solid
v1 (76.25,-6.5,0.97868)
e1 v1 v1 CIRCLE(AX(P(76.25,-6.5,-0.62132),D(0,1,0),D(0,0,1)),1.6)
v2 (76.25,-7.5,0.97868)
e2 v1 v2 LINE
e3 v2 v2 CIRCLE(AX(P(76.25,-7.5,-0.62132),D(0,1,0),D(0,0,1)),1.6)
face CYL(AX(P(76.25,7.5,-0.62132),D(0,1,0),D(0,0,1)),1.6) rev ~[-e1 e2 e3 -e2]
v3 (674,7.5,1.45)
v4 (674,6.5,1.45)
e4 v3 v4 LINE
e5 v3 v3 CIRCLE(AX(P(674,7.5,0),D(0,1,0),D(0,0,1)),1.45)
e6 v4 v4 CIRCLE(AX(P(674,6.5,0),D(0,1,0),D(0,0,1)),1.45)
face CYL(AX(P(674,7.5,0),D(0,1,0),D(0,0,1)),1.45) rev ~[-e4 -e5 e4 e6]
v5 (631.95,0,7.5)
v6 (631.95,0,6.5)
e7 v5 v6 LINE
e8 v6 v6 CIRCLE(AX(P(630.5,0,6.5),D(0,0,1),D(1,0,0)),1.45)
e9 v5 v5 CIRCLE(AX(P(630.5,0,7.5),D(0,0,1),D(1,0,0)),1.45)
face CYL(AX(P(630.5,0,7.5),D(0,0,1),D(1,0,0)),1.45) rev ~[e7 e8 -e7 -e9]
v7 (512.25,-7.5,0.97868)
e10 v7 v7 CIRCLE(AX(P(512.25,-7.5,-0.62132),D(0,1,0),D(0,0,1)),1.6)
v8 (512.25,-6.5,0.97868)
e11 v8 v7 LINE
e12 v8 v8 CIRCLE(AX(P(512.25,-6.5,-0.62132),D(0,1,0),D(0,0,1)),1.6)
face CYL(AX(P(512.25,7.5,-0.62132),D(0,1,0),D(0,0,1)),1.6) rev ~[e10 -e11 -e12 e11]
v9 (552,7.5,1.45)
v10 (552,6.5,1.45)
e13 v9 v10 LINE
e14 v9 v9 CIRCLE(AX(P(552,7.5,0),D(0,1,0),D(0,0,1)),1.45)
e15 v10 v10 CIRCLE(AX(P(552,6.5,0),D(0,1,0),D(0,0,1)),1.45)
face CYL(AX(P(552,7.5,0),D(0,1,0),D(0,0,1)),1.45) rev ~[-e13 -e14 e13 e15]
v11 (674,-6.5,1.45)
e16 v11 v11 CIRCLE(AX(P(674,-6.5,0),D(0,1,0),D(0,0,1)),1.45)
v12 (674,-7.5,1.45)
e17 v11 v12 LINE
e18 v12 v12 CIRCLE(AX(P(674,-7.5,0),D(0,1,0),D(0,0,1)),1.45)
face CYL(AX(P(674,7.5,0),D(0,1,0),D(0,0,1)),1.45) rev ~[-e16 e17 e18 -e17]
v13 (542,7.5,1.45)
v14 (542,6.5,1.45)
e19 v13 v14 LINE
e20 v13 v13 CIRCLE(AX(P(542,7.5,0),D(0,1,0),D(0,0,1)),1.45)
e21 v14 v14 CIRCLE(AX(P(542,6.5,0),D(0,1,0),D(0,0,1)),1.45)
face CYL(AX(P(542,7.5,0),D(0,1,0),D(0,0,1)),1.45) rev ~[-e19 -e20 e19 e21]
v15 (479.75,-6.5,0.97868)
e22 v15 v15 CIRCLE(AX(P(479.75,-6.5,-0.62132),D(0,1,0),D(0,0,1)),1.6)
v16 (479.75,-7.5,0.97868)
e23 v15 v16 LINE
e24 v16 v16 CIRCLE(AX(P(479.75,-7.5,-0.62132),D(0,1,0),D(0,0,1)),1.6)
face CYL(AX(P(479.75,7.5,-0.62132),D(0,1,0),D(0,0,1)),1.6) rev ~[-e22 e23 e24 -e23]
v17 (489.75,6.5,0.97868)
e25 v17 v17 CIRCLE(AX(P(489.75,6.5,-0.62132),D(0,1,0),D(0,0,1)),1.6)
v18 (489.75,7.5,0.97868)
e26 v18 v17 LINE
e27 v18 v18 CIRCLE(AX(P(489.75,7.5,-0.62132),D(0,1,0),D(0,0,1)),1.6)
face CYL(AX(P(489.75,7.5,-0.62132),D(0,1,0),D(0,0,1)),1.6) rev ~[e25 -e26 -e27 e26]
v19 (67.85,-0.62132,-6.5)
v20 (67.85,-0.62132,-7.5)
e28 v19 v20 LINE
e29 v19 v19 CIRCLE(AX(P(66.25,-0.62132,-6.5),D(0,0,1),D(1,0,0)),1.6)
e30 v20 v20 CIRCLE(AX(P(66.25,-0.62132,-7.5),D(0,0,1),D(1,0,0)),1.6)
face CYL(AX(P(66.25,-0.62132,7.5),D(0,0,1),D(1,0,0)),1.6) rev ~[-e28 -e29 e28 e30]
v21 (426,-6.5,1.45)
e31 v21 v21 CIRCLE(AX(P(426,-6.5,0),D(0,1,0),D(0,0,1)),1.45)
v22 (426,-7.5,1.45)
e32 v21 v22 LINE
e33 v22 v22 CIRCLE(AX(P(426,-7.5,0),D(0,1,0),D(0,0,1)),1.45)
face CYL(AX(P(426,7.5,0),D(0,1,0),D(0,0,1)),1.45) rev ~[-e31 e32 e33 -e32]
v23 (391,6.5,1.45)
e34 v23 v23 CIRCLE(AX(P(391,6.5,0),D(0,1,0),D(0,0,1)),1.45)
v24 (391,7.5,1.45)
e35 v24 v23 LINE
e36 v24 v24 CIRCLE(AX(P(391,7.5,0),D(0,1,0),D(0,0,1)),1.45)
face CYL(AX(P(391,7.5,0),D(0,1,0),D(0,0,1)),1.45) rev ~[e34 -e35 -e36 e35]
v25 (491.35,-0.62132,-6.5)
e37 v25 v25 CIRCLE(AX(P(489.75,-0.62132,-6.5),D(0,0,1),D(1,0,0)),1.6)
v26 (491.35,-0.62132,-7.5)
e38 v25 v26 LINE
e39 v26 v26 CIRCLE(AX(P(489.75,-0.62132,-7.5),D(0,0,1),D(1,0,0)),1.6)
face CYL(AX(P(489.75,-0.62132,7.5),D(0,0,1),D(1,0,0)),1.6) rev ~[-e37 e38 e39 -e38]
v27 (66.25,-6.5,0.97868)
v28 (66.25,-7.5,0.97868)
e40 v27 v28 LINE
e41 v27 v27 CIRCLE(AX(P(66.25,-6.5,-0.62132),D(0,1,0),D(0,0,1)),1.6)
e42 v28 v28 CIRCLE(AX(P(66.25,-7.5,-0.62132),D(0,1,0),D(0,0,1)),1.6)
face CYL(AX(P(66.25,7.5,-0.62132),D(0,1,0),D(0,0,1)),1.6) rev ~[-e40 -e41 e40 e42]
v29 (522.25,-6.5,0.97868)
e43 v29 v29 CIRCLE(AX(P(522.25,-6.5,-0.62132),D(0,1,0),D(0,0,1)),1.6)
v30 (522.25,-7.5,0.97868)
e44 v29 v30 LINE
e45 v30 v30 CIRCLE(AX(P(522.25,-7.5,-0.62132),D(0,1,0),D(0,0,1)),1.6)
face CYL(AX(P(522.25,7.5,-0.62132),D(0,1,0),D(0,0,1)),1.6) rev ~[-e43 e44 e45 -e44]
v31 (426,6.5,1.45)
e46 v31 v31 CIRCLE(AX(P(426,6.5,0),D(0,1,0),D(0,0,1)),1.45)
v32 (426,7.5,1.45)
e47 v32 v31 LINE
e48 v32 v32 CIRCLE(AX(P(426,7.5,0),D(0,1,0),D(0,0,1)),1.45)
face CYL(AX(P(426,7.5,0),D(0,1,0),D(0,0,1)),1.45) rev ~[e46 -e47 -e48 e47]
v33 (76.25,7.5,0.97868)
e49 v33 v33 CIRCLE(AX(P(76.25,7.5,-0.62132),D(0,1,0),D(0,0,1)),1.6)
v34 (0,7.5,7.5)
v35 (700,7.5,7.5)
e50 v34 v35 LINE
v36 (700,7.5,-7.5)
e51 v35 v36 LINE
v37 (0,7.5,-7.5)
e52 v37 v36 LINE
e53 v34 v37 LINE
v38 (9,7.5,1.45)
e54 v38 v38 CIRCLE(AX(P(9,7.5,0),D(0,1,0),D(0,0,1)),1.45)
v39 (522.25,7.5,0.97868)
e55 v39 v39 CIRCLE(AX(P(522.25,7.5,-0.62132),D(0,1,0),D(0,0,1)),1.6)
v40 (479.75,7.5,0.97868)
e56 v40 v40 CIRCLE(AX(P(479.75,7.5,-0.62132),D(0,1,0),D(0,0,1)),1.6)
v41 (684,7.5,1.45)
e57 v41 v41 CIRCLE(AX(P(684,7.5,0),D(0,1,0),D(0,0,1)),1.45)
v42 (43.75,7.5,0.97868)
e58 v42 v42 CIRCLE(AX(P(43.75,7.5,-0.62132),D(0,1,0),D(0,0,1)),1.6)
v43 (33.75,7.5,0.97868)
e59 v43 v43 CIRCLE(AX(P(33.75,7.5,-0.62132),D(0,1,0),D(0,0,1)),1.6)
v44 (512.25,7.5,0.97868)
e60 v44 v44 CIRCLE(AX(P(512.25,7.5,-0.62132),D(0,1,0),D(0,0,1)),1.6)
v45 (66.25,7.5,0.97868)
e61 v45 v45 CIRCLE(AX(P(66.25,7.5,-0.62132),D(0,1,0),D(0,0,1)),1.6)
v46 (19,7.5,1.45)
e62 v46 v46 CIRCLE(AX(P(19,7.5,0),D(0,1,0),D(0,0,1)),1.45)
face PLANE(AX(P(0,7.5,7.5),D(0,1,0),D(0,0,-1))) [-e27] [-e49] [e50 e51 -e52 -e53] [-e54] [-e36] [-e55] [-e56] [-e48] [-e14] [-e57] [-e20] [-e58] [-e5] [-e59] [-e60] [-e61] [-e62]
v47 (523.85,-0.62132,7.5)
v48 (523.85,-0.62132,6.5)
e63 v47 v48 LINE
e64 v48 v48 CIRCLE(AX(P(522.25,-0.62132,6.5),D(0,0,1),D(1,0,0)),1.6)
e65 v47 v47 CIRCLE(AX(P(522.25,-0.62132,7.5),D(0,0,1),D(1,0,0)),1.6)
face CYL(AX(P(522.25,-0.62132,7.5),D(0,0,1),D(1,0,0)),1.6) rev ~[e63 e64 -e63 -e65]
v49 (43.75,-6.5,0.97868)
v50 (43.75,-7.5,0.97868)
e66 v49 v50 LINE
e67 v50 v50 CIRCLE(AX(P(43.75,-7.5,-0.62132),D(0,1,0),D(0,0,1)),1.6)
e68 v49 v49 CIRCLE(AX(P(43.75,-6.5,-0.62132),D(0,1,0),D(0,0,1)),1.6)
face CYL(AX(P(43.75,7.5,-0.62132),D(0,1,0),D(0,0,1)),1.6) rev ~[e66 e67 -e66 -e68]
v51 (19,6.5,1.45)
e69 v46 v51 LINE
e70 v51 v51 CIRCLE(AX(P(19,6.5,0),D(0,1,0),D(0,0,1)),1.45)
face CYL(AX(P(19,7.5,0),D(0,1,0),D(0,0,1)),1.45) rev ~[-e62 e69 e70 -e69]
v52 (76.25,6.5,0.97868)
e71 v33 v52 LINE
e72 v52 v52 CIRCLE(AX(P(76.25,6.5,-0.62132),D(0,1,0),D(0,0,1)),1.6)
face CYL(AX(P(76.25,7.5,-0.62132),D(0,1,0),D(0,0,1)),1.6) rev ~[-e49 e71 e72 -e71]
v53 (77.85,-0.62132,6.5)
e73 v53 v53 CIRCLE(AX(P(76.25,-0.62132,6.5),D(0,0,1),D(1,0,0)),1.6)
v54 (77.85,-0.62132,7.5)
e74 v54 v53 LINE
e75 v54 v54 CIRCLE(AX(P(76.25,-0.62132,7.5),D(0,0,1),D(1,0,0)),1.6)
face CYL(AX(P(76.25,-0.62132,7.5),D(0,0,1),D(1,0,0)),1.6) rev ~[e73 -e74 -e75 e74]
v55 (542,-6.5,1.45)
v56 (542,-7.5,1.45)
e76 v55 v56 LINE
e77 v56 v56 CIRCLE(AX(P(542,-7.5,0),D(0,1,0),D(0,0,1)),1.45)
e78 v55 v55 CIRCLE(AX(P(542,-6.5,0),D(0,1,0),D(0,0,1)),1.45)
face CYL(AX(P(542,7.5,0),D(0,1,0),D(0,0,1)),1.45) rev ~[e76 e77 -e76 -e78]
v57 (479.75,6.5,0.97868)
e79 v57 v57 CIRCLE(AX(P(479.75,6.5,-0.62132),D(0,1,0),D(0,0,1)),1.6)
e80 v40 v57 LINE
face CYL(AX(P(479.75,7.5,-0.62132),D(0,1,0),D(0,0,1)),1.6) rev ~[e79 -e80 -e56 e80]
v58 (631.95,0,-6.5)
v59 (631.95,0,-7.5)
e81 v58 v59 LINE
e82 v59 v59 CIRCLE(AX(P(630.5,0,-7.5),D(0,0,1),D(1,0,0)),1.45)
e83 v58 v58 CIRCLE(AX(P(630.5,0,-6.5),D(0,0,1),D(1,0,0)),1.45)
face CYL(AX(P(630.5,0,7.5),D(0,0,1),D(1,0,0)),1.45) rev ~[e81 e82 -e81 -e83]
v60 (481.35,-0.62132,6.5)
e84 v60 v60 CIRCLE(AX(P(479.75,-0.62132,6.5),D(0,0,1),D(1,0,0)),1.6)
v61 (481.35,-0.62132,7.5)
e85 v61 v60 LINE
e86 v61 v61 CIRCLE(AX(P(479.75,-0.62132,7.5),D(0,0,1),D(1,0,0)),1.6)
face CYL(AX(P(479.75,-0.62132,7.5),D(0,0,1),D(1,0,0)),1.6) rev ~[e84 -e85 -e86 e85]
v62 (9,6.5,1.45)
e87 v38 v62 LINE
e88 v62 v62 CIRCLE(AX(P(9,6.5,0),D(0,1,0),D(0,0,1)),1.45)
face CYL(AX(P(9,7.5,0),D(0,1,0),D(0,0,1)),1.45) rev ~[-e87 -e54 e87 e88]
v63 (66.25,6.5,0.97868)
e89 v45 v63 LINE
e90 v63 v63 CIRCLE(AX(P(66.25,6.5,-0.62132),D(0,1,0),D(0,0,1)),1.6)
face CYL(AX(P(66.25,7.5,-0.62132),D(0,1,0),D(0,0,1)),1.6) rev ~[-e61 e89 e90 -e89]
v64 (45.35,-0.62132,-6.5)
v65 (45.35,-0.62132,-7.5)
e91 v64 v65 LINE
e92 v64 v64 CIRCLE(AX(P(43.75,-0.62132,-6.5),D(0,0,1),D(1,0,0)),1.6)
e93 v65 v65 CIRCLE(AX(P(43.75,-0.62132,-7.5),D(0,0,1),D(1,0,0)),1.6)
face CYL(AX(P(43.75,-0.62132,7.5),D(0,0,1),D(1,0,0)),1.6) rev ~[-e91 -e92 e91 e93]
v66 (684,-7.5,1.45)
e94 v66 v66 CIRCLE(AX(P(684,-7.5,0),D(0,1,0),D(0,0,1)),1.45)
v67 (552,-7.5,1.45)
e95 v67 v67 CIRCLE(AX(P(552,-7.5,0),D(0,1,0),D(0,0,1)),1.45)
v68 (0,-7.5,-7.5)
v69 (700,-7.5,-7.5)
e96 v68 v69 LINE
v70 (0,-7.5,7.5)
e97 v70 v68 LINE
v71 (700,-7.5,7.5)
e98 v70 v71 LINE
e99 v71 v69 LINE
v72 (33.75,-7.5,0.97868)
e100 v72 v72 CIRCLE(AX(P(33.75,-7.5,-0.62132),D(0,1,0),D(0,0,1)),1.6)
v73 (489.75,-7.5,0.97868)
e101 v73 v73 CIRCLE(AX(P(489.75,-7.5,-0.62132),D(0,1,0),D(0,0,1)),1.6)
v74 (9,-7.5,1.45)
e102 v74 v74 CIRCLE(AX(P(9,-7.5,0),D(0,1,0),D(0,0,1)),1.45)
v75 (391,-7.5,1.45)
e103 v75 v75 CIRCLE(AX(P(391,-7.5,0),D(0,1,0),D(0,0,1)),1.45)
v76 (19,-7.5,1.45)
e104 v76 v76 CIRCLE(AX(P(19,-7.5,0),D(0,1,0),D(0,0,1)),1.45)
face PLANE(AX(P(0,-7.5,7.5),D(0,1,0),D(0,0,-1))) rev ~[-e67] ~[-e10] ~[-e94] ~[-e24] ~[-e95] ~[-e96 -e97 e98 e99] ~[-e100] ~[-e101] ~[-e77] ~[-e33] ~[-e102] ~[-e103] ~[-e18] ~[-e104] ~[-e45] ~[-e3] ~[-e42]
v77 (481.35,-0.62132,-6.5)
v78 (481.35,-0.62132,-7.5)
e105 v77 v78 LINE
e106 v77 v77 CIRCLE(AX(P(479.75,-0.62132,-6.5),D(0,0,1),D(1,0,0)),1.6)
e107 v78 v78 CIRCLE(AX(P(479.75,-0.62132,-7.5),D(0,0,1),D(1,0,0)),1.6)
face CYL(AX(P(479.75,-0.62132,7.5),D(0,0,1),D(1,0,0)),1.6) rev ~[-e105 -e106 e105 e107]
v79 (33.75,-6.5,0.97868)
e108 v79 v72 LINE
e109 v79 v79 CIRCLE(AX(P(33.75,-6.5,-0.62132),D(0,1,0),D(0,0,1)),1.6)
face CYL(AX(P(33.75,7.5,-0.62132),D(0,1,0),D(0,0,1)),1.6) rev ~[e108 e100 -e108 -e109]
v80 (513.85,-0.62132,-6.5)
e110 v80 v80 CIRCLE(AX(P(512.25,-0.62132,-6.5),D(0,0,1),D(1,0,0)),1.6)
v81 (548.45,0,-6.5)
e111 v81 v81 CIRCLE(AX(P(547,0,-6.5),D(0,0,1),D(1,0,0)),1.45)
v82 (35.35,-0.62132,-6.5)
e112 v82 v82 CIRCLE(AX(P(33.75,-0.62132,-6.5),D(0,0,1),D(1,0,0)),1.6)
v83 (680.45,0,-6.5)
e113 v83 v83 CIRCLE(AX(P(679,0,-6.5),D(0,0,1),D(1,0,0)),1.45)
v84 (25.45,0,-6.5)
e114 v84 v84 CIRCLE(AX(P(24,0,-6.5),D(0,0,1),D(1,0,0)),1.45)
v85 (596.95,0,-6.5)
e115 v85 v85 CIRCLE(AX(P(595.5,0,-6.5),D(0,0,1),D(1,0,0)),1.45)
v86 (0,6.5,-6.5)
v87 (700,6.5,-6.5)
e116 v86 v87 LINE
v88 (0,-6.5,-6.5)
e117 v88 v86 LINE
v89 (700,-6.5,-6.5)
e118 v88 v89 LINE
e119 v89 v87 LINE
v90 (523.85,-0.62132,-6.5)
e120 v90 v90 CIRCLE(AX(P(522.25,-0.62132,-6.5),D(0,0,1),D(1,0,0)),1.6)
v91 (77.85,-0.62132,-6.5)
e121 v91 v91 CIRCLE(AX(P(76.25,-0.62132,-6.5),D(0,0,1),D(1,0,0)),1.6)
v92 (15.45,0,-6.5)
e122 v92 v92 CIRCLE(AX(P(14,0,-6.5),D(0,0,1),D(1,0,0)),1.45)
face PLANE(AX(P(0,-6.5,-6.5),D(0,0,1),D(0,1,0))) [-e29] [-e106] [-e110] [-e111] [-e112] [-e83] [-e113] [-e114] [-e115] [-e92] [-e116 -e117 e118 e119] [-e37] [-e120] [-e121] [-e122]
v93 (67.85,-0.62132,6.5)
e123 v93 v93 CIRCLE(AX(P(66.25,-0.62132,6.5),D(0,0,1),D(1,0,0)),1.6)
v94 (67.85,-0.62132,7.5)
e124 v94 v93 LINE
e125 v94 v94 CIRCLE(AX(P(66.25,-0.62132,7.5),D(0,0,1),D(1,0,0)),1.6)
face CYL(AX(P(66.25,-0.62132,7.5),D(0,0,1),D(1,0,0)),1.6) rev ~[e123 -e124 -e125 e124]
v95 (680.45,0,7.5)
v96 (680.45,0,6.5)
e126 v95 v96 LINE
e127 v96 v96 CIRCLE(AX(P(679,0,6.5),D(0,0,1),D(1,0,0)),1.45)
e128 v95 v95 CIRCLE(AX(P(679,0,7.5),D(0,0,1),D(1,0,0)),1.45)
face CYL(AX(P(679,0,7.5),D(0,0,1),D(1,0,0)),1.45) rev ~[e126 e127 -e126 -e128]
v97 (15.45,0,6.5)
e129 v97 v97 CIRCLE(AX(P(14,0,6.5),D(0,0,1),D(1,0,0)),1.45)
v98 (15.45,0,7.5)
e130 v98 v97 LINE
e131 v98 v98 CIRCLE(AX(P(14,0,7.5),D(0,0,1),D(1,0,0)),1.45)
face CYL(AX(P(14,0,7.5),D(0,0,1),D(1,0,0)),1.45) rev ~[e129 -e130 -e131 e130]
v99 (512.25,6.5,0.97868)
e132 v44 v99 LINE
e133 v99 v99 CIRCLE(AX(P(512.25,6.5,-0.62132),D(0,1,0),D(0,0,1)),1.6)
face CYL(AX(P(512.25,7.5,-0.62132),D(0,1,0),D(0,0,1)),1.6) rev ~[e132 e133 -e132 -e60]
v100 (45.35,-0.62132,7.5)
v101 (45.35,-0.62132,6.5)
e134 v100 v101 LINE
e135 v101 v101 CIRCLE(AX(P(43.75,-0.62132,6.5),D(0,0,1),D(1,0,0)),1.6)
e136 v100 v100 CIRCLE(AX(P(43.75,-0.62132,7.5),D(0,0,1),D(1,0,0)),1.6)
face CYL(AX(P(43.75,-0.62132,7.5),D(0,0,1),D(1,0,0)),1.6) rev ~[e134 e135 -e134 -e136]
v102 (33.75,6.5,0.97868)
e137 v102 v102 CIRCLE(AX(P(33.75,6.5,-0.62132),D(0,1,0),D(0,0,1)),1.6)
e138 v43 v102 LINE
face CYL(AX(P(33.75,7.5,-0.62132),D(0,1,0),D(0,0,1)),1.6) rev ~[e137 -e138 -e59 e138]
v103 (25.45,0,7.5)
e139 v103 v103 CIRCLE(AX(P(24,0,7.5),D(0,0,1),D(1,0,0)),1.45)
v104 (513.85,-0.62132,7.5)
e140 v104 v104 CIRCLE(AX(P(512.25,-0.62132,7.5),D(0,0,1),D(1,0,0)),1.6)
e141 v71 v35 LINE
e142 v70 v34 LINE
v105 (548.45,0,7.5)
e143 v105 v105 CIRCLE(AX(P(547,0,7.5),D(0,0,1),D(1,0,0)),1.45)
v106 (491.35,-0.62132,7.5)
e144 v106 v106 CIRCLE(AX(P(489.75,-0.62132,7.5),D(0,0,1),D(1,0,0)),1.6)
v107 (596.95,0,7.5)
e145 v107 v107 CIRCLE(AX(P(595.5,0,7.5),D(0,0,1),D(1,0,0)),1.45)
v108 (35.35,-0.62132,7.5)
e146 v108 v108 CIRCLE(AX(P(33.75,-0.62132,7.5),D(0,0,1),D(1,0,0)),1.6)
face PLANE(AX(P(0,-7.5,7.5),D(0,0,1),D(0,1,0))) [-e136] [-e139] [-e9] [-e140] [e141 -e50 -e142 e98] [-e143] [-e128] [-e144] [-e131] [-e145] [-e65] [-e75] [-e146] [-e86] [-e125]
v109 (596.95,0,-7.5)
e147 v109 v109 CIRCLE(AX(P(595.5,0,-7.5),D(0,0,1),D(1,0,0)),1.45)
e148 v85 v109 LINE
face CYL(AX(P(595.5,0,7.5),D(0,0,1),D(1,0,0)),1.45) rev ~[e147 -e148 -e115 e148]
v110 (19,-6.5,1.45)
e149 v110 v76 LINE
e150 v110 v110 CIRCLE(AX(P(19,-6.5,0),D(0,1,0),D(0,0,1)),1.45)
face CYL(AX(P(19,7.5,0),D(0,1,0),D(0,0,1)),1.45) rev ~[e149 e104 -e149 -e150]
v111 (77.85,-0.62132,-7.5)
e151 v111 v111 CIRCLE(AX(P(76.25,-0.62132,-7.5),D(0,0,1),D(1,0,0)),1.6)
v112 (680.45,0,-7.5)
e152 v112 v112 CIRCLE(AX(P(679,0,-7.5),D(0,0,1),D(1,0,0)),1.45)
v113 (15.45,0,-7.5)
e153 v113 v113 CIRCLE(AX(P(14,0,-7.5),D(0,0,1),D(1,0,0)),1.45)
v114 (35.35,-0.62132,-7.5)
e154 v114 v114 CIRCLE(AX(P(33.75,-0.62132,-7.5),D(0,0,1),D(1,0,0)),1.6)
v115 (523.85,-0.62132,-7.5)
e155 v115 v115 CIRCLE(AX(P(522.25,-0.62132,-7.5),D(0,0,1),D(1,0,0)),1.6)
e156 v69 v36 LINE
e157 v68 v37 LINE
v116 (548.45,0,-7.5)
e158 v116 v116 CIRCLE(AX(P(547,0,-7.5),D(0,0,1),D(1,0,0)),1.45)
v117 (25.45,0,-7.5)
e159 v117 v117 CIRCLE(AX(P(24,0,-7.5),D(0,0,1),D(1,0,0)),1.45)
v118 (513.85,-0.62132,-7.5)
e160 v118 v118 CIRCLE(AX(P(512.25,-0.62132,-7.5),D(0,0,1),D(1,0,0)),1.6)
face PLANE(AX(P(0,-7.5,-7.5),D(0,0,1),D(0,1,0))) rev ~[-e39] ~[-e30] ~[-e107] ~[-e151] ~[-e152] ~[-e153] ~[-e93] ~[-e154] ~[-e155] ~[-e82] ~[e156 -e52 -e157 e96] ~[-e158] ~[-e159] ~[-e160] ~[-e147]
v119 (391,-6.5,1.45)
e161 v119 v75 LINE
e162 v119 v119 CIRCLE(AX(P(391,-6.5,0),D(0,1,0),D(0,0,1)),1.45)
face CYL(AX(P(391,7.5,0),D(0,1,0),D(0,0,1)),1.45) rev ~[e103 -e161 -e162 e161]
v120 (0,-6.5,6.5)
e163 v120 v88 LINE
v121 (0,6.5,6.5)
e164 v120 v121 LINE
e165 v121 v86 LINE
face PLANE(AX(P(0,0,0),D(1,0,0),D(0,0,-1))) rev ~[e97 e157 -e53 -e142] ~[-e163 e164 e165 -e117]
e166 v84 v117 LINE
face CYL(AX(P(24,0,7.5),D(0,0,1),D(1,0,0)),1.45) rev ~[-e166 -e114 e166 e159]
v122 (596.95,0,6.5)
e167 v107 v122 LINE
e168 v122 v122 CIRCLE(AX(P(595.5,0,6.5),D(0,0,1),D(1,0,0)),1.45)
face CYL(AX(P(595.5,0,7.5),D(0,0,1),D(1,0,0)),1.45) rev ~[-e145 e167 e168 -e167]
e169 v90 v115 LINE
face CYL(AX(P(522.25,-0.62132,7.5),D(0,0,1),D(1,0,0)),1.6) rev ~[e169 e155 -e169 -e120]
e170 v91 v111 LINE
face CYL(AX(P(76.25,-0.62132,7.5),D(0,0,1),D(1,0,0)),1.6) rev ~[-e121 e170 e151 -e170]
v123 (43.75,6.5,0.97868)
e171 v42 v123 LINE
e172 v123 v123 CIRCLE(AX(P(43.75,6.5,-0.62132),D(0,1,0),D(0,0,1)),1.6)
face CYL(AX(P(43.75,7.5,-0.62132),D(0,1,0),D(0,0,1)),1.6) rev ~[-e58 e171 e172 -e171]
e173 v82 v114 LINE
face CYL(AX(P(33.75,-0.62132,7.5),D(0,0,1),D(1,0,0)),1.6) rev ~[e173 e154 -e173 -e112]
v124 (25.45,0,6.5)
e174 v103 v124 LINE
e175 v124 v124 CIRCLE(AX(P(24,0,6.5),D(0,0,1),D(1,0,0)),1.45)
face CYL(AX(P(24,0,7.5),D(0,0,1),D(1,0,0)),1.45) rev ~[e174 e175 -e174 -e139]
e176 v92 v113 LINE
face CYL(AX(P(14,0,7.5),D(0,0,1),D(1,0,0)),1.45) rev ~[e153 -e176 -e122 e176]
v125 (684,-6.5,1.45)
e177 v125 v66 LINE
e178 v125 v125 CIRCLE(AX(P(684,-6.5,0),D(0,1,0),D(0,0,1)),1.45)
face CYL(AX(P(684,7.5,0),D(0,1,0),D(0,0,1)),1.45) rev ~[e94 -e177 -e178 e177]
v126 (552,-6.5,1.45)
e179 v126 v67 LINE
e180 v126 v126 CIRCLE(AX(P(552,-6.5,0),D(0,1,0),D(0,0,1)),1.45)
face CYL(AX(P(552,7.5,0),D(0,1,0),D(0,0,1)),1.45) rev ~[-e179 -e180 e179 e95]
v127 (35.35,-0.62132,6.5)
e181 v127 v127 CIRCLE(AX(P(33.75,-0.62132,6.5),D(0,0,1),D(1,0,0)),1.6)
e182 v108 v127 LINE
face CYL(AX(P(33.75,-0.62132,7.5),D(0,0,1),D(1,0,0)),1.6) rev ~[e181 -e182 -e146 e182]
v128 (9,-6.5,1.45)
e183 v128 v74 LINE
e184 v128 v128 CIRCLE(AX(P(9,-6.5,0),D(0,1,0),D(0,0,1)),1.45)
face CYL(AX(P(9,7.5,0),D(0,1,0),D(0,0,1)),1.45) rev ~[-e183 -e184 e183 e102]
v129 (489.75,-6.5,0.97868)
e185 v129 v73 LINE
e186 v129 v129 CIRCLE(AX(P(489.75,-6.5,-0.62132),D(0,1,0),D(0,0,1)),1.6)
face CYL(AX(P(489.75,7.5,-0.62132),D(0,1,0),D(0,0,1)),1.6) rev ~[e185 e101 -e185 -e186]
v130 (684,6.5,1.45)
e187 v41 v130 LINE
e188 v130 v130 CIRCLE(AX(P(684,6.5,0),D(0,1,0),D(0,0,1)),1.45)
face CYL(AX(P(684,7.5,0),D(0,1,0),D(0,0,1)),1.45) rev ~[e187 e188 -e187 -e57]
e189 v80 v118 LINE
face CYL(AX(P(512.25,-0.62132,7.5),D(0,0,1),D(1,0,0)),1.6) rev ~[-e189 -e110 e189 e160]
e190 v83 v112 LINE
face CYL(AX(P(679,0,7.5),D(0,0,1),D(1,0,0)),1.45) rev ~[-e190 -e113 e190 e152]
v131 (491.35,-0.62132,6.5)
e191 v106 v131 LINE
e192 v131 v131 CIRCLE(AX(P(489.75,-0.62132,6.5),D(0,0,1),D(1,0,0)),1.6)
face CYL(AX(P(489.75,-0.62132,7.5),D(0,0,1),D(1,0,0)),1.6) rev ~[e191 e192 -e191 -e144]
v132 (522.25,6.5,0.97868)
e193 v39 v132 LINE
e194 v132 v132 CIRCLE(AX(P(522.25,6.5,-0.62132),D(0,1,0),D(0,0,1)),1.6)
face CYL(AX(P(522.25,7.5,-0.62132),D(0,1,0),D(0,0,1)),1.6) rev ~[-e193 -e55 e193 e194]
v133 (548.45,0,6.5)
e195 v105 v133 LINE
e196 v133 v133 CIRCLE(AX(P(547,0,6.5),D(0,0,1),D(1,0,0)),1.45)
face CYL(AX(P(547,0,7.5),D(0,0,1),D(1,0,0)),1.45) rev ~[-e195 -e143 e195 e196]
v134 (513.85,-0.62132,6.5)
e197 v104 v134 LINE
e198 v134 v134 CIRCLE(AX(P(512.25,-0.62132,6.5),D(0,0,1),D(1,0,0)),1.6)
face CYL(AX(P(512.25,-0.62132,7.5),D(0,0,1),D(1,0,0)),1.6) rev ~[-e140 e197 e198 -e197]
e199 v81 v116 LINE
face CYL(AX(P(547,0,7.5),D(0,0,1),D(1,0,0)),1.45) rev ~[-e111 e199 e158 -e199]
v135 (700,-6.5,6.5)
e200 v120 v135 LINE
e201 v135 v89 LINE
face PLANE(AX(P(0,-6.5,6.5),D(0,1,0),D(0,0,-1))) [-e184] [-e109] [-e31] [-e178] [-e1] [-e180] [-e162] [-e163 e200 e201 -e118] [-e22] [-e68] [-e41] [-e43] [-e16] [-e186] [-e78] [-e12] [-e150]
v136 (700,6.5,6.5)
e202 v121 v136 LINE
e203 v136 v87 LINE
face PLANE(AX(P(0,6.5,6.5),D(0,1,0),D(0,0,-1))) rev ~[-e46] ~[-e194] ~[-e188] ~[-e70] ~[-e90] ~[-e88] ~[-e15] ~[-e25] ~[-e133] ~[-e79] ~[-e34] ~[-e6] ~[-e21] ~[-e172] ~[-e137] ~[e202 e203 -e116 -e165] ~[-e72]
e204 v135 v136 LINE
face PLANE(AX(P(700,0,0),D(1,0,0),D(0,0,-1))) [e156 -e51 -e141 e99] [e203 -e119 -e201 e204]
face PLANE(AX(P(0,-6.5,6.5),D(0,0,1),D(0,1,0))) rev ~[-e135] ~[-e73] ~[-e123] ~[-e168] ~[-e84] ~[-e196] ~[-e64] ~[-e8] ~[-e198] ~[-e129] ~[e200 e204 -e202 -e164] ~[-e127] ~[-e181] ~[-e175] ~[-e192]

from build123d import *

# Parameters (mm, degrees)
SKETCH_1_W          = 15
SKETCH_1_H          = 15
SKETCH_1_W_2        = 13
SKETCH_1_H_2        = 13
EXTRUDE_1_DEPTH     = 700
SKETCH_3_R          = 1.45
SKETCH_3_R_2        = 1.6
CUT_EXTRUDE_1_DEPTH = 701.200864038
SKETCH_4_R          = 1.45
SKETCH_4_R_2        = 1.6
CUT_EXTRUDE_2_DEPTH = 701.200864038


with BuildPart() as part:
    # 草图1 → 凸台-拉伸1 (new body)
    with BuildSketch(Plane(origin=(0, 0, 0), x_dir=(0, 0, -1), z_dir=(1, 0, 0))):
        Rectangle(SKETCH_1_W, SKETCH_1_H)
        Rectangle(SKETCH_1_W_2, SKETCH_1_H_2, mode=Mode.SUBTRACT)
    extrude(amount=EXTRUDE_1_DEPTH)

    # 草图3 → 切除-拉伸1 (cut, through all)
    with BuildSketch(Plane.XY.offset(7.5)):
        with Locations((595.5, 0)):
            Circle(SKETCH_3_R)
        with Locations((24, 0)):
            Circle(SKETCH_3_R)
        with Locations((14, 0)):
            Circle(SKETCH_3_R)
        with Locations((76.25, -0.621320344)):
            Circle(SKETCH_3_R_2)
        with Locations((66.25, -0.621320344)):
            Circle(SKETCH_3_R_2)
        with Locations((43.75, -0.621320344)):
            Circle(SKETCH_3_R_2)
        with Locations((33.75, -0.621320344)):
            Circle(SKETCH_3_R_2)
        with Locations((522.25, -0.621320344)):
            Circle(SKETCH_3_R_2)
        with Locations((512.25, -0.621320344)):
            Circle(SKETCH_3_R_2)
        with Locations((489.75, -0.621320344)):
            Circle(SKETCH_3_R_2)
        with Locations((479.75, -0.621320344)):
            Circle(SKETCH_3_R_2)
        with Locations((630.5, 0)):
            Circle(SKETCH_3_R)
        with Locations((547, 0)):
            Circle(SKETCH_3_R)
        with Locations((679, 0)):
            Circle(SKETCH_3_R)
    extrude(amount=-CUT_EXTRUDE_1_DEPTH, mode=Mode.SUBTRACT)

    # 草图4 → 切除-拉伸2 (cut, through all)
    with BuildSketch(Plane(origin=(0, 7.5, 0), x_dir=(1, 0, 0), z_dir=(0, 1, 0))):
        with Locations(Location((9, 0, 0), (0, 0, 270))):
            Circle(SKETCH_4_R)
        with Locations(Location((33.75, 0.621320344, 0), (0, 0, 270))):
            Circle(SKETCH_4_R_2)
        with Locations(Location((43.75, 0.621320344, 0), (0, 0, 270))):
            Circle(SKETCH_4_R_2)
        with Locations(Location((76.25, 0.621320344, 0), (0, 0, 270))):
            Circle(SKETCH_4_R_2)
        with Locations(Location((66.25, 0.621320344, 0), (0, 0, 270))):
            Circle(SKETCH_4_R_2)
        with Locations(Location((426, 0, 0), (0, 0, 270))):
            Circle(SKETCH_4_R)
        with Locations(Location((391, 0, 0), (0, 0, 270))):
            Circle(SKETCH_4_R)
        with Locations(Location((512.25, 0.621320344, 0), (0, 0, 270))):
            Circle(SKETCH_4_R_2)
        with Locations(Location((489.75, 0.621320344, 0), (0, 0, 270))):
            Circle(SKETCH_4_R_2)
        with Locations(Location((479.75, 0.621320344, 0), (0, 0, 270))):
            Circle(SKETCH_4_R_2)
        with Locations(Location((522.25, 0.621320344, 0), (0, 0, 270))):
            Circle(SKETCH_4_R_2)
        with Locations(Location((552, 0, 0), (0, 0, 270))):
            Circle(SKETCH_4_R)
        with Locations(Location((674, 0, 0), (0, 0, 270))):
            Circle(SKETCH_4_R)
        with Locations(Location((684, 0, 0), (0, 0, 270))):
            Circle(SKETCH_4_R)
        with Locations(Location((19, 0, 0), (0, 0, 270))):
            Circle(SKETCH_4_R)
        with Locations(Location((542, 0, 0), (0, 0, 270))):
            Circle(SKETCH_4_R)
    extrude(amount=-CUT_EXTRUDE_2_DEPTH, mode=Mode.SUBTRACT)


solid = part.part
